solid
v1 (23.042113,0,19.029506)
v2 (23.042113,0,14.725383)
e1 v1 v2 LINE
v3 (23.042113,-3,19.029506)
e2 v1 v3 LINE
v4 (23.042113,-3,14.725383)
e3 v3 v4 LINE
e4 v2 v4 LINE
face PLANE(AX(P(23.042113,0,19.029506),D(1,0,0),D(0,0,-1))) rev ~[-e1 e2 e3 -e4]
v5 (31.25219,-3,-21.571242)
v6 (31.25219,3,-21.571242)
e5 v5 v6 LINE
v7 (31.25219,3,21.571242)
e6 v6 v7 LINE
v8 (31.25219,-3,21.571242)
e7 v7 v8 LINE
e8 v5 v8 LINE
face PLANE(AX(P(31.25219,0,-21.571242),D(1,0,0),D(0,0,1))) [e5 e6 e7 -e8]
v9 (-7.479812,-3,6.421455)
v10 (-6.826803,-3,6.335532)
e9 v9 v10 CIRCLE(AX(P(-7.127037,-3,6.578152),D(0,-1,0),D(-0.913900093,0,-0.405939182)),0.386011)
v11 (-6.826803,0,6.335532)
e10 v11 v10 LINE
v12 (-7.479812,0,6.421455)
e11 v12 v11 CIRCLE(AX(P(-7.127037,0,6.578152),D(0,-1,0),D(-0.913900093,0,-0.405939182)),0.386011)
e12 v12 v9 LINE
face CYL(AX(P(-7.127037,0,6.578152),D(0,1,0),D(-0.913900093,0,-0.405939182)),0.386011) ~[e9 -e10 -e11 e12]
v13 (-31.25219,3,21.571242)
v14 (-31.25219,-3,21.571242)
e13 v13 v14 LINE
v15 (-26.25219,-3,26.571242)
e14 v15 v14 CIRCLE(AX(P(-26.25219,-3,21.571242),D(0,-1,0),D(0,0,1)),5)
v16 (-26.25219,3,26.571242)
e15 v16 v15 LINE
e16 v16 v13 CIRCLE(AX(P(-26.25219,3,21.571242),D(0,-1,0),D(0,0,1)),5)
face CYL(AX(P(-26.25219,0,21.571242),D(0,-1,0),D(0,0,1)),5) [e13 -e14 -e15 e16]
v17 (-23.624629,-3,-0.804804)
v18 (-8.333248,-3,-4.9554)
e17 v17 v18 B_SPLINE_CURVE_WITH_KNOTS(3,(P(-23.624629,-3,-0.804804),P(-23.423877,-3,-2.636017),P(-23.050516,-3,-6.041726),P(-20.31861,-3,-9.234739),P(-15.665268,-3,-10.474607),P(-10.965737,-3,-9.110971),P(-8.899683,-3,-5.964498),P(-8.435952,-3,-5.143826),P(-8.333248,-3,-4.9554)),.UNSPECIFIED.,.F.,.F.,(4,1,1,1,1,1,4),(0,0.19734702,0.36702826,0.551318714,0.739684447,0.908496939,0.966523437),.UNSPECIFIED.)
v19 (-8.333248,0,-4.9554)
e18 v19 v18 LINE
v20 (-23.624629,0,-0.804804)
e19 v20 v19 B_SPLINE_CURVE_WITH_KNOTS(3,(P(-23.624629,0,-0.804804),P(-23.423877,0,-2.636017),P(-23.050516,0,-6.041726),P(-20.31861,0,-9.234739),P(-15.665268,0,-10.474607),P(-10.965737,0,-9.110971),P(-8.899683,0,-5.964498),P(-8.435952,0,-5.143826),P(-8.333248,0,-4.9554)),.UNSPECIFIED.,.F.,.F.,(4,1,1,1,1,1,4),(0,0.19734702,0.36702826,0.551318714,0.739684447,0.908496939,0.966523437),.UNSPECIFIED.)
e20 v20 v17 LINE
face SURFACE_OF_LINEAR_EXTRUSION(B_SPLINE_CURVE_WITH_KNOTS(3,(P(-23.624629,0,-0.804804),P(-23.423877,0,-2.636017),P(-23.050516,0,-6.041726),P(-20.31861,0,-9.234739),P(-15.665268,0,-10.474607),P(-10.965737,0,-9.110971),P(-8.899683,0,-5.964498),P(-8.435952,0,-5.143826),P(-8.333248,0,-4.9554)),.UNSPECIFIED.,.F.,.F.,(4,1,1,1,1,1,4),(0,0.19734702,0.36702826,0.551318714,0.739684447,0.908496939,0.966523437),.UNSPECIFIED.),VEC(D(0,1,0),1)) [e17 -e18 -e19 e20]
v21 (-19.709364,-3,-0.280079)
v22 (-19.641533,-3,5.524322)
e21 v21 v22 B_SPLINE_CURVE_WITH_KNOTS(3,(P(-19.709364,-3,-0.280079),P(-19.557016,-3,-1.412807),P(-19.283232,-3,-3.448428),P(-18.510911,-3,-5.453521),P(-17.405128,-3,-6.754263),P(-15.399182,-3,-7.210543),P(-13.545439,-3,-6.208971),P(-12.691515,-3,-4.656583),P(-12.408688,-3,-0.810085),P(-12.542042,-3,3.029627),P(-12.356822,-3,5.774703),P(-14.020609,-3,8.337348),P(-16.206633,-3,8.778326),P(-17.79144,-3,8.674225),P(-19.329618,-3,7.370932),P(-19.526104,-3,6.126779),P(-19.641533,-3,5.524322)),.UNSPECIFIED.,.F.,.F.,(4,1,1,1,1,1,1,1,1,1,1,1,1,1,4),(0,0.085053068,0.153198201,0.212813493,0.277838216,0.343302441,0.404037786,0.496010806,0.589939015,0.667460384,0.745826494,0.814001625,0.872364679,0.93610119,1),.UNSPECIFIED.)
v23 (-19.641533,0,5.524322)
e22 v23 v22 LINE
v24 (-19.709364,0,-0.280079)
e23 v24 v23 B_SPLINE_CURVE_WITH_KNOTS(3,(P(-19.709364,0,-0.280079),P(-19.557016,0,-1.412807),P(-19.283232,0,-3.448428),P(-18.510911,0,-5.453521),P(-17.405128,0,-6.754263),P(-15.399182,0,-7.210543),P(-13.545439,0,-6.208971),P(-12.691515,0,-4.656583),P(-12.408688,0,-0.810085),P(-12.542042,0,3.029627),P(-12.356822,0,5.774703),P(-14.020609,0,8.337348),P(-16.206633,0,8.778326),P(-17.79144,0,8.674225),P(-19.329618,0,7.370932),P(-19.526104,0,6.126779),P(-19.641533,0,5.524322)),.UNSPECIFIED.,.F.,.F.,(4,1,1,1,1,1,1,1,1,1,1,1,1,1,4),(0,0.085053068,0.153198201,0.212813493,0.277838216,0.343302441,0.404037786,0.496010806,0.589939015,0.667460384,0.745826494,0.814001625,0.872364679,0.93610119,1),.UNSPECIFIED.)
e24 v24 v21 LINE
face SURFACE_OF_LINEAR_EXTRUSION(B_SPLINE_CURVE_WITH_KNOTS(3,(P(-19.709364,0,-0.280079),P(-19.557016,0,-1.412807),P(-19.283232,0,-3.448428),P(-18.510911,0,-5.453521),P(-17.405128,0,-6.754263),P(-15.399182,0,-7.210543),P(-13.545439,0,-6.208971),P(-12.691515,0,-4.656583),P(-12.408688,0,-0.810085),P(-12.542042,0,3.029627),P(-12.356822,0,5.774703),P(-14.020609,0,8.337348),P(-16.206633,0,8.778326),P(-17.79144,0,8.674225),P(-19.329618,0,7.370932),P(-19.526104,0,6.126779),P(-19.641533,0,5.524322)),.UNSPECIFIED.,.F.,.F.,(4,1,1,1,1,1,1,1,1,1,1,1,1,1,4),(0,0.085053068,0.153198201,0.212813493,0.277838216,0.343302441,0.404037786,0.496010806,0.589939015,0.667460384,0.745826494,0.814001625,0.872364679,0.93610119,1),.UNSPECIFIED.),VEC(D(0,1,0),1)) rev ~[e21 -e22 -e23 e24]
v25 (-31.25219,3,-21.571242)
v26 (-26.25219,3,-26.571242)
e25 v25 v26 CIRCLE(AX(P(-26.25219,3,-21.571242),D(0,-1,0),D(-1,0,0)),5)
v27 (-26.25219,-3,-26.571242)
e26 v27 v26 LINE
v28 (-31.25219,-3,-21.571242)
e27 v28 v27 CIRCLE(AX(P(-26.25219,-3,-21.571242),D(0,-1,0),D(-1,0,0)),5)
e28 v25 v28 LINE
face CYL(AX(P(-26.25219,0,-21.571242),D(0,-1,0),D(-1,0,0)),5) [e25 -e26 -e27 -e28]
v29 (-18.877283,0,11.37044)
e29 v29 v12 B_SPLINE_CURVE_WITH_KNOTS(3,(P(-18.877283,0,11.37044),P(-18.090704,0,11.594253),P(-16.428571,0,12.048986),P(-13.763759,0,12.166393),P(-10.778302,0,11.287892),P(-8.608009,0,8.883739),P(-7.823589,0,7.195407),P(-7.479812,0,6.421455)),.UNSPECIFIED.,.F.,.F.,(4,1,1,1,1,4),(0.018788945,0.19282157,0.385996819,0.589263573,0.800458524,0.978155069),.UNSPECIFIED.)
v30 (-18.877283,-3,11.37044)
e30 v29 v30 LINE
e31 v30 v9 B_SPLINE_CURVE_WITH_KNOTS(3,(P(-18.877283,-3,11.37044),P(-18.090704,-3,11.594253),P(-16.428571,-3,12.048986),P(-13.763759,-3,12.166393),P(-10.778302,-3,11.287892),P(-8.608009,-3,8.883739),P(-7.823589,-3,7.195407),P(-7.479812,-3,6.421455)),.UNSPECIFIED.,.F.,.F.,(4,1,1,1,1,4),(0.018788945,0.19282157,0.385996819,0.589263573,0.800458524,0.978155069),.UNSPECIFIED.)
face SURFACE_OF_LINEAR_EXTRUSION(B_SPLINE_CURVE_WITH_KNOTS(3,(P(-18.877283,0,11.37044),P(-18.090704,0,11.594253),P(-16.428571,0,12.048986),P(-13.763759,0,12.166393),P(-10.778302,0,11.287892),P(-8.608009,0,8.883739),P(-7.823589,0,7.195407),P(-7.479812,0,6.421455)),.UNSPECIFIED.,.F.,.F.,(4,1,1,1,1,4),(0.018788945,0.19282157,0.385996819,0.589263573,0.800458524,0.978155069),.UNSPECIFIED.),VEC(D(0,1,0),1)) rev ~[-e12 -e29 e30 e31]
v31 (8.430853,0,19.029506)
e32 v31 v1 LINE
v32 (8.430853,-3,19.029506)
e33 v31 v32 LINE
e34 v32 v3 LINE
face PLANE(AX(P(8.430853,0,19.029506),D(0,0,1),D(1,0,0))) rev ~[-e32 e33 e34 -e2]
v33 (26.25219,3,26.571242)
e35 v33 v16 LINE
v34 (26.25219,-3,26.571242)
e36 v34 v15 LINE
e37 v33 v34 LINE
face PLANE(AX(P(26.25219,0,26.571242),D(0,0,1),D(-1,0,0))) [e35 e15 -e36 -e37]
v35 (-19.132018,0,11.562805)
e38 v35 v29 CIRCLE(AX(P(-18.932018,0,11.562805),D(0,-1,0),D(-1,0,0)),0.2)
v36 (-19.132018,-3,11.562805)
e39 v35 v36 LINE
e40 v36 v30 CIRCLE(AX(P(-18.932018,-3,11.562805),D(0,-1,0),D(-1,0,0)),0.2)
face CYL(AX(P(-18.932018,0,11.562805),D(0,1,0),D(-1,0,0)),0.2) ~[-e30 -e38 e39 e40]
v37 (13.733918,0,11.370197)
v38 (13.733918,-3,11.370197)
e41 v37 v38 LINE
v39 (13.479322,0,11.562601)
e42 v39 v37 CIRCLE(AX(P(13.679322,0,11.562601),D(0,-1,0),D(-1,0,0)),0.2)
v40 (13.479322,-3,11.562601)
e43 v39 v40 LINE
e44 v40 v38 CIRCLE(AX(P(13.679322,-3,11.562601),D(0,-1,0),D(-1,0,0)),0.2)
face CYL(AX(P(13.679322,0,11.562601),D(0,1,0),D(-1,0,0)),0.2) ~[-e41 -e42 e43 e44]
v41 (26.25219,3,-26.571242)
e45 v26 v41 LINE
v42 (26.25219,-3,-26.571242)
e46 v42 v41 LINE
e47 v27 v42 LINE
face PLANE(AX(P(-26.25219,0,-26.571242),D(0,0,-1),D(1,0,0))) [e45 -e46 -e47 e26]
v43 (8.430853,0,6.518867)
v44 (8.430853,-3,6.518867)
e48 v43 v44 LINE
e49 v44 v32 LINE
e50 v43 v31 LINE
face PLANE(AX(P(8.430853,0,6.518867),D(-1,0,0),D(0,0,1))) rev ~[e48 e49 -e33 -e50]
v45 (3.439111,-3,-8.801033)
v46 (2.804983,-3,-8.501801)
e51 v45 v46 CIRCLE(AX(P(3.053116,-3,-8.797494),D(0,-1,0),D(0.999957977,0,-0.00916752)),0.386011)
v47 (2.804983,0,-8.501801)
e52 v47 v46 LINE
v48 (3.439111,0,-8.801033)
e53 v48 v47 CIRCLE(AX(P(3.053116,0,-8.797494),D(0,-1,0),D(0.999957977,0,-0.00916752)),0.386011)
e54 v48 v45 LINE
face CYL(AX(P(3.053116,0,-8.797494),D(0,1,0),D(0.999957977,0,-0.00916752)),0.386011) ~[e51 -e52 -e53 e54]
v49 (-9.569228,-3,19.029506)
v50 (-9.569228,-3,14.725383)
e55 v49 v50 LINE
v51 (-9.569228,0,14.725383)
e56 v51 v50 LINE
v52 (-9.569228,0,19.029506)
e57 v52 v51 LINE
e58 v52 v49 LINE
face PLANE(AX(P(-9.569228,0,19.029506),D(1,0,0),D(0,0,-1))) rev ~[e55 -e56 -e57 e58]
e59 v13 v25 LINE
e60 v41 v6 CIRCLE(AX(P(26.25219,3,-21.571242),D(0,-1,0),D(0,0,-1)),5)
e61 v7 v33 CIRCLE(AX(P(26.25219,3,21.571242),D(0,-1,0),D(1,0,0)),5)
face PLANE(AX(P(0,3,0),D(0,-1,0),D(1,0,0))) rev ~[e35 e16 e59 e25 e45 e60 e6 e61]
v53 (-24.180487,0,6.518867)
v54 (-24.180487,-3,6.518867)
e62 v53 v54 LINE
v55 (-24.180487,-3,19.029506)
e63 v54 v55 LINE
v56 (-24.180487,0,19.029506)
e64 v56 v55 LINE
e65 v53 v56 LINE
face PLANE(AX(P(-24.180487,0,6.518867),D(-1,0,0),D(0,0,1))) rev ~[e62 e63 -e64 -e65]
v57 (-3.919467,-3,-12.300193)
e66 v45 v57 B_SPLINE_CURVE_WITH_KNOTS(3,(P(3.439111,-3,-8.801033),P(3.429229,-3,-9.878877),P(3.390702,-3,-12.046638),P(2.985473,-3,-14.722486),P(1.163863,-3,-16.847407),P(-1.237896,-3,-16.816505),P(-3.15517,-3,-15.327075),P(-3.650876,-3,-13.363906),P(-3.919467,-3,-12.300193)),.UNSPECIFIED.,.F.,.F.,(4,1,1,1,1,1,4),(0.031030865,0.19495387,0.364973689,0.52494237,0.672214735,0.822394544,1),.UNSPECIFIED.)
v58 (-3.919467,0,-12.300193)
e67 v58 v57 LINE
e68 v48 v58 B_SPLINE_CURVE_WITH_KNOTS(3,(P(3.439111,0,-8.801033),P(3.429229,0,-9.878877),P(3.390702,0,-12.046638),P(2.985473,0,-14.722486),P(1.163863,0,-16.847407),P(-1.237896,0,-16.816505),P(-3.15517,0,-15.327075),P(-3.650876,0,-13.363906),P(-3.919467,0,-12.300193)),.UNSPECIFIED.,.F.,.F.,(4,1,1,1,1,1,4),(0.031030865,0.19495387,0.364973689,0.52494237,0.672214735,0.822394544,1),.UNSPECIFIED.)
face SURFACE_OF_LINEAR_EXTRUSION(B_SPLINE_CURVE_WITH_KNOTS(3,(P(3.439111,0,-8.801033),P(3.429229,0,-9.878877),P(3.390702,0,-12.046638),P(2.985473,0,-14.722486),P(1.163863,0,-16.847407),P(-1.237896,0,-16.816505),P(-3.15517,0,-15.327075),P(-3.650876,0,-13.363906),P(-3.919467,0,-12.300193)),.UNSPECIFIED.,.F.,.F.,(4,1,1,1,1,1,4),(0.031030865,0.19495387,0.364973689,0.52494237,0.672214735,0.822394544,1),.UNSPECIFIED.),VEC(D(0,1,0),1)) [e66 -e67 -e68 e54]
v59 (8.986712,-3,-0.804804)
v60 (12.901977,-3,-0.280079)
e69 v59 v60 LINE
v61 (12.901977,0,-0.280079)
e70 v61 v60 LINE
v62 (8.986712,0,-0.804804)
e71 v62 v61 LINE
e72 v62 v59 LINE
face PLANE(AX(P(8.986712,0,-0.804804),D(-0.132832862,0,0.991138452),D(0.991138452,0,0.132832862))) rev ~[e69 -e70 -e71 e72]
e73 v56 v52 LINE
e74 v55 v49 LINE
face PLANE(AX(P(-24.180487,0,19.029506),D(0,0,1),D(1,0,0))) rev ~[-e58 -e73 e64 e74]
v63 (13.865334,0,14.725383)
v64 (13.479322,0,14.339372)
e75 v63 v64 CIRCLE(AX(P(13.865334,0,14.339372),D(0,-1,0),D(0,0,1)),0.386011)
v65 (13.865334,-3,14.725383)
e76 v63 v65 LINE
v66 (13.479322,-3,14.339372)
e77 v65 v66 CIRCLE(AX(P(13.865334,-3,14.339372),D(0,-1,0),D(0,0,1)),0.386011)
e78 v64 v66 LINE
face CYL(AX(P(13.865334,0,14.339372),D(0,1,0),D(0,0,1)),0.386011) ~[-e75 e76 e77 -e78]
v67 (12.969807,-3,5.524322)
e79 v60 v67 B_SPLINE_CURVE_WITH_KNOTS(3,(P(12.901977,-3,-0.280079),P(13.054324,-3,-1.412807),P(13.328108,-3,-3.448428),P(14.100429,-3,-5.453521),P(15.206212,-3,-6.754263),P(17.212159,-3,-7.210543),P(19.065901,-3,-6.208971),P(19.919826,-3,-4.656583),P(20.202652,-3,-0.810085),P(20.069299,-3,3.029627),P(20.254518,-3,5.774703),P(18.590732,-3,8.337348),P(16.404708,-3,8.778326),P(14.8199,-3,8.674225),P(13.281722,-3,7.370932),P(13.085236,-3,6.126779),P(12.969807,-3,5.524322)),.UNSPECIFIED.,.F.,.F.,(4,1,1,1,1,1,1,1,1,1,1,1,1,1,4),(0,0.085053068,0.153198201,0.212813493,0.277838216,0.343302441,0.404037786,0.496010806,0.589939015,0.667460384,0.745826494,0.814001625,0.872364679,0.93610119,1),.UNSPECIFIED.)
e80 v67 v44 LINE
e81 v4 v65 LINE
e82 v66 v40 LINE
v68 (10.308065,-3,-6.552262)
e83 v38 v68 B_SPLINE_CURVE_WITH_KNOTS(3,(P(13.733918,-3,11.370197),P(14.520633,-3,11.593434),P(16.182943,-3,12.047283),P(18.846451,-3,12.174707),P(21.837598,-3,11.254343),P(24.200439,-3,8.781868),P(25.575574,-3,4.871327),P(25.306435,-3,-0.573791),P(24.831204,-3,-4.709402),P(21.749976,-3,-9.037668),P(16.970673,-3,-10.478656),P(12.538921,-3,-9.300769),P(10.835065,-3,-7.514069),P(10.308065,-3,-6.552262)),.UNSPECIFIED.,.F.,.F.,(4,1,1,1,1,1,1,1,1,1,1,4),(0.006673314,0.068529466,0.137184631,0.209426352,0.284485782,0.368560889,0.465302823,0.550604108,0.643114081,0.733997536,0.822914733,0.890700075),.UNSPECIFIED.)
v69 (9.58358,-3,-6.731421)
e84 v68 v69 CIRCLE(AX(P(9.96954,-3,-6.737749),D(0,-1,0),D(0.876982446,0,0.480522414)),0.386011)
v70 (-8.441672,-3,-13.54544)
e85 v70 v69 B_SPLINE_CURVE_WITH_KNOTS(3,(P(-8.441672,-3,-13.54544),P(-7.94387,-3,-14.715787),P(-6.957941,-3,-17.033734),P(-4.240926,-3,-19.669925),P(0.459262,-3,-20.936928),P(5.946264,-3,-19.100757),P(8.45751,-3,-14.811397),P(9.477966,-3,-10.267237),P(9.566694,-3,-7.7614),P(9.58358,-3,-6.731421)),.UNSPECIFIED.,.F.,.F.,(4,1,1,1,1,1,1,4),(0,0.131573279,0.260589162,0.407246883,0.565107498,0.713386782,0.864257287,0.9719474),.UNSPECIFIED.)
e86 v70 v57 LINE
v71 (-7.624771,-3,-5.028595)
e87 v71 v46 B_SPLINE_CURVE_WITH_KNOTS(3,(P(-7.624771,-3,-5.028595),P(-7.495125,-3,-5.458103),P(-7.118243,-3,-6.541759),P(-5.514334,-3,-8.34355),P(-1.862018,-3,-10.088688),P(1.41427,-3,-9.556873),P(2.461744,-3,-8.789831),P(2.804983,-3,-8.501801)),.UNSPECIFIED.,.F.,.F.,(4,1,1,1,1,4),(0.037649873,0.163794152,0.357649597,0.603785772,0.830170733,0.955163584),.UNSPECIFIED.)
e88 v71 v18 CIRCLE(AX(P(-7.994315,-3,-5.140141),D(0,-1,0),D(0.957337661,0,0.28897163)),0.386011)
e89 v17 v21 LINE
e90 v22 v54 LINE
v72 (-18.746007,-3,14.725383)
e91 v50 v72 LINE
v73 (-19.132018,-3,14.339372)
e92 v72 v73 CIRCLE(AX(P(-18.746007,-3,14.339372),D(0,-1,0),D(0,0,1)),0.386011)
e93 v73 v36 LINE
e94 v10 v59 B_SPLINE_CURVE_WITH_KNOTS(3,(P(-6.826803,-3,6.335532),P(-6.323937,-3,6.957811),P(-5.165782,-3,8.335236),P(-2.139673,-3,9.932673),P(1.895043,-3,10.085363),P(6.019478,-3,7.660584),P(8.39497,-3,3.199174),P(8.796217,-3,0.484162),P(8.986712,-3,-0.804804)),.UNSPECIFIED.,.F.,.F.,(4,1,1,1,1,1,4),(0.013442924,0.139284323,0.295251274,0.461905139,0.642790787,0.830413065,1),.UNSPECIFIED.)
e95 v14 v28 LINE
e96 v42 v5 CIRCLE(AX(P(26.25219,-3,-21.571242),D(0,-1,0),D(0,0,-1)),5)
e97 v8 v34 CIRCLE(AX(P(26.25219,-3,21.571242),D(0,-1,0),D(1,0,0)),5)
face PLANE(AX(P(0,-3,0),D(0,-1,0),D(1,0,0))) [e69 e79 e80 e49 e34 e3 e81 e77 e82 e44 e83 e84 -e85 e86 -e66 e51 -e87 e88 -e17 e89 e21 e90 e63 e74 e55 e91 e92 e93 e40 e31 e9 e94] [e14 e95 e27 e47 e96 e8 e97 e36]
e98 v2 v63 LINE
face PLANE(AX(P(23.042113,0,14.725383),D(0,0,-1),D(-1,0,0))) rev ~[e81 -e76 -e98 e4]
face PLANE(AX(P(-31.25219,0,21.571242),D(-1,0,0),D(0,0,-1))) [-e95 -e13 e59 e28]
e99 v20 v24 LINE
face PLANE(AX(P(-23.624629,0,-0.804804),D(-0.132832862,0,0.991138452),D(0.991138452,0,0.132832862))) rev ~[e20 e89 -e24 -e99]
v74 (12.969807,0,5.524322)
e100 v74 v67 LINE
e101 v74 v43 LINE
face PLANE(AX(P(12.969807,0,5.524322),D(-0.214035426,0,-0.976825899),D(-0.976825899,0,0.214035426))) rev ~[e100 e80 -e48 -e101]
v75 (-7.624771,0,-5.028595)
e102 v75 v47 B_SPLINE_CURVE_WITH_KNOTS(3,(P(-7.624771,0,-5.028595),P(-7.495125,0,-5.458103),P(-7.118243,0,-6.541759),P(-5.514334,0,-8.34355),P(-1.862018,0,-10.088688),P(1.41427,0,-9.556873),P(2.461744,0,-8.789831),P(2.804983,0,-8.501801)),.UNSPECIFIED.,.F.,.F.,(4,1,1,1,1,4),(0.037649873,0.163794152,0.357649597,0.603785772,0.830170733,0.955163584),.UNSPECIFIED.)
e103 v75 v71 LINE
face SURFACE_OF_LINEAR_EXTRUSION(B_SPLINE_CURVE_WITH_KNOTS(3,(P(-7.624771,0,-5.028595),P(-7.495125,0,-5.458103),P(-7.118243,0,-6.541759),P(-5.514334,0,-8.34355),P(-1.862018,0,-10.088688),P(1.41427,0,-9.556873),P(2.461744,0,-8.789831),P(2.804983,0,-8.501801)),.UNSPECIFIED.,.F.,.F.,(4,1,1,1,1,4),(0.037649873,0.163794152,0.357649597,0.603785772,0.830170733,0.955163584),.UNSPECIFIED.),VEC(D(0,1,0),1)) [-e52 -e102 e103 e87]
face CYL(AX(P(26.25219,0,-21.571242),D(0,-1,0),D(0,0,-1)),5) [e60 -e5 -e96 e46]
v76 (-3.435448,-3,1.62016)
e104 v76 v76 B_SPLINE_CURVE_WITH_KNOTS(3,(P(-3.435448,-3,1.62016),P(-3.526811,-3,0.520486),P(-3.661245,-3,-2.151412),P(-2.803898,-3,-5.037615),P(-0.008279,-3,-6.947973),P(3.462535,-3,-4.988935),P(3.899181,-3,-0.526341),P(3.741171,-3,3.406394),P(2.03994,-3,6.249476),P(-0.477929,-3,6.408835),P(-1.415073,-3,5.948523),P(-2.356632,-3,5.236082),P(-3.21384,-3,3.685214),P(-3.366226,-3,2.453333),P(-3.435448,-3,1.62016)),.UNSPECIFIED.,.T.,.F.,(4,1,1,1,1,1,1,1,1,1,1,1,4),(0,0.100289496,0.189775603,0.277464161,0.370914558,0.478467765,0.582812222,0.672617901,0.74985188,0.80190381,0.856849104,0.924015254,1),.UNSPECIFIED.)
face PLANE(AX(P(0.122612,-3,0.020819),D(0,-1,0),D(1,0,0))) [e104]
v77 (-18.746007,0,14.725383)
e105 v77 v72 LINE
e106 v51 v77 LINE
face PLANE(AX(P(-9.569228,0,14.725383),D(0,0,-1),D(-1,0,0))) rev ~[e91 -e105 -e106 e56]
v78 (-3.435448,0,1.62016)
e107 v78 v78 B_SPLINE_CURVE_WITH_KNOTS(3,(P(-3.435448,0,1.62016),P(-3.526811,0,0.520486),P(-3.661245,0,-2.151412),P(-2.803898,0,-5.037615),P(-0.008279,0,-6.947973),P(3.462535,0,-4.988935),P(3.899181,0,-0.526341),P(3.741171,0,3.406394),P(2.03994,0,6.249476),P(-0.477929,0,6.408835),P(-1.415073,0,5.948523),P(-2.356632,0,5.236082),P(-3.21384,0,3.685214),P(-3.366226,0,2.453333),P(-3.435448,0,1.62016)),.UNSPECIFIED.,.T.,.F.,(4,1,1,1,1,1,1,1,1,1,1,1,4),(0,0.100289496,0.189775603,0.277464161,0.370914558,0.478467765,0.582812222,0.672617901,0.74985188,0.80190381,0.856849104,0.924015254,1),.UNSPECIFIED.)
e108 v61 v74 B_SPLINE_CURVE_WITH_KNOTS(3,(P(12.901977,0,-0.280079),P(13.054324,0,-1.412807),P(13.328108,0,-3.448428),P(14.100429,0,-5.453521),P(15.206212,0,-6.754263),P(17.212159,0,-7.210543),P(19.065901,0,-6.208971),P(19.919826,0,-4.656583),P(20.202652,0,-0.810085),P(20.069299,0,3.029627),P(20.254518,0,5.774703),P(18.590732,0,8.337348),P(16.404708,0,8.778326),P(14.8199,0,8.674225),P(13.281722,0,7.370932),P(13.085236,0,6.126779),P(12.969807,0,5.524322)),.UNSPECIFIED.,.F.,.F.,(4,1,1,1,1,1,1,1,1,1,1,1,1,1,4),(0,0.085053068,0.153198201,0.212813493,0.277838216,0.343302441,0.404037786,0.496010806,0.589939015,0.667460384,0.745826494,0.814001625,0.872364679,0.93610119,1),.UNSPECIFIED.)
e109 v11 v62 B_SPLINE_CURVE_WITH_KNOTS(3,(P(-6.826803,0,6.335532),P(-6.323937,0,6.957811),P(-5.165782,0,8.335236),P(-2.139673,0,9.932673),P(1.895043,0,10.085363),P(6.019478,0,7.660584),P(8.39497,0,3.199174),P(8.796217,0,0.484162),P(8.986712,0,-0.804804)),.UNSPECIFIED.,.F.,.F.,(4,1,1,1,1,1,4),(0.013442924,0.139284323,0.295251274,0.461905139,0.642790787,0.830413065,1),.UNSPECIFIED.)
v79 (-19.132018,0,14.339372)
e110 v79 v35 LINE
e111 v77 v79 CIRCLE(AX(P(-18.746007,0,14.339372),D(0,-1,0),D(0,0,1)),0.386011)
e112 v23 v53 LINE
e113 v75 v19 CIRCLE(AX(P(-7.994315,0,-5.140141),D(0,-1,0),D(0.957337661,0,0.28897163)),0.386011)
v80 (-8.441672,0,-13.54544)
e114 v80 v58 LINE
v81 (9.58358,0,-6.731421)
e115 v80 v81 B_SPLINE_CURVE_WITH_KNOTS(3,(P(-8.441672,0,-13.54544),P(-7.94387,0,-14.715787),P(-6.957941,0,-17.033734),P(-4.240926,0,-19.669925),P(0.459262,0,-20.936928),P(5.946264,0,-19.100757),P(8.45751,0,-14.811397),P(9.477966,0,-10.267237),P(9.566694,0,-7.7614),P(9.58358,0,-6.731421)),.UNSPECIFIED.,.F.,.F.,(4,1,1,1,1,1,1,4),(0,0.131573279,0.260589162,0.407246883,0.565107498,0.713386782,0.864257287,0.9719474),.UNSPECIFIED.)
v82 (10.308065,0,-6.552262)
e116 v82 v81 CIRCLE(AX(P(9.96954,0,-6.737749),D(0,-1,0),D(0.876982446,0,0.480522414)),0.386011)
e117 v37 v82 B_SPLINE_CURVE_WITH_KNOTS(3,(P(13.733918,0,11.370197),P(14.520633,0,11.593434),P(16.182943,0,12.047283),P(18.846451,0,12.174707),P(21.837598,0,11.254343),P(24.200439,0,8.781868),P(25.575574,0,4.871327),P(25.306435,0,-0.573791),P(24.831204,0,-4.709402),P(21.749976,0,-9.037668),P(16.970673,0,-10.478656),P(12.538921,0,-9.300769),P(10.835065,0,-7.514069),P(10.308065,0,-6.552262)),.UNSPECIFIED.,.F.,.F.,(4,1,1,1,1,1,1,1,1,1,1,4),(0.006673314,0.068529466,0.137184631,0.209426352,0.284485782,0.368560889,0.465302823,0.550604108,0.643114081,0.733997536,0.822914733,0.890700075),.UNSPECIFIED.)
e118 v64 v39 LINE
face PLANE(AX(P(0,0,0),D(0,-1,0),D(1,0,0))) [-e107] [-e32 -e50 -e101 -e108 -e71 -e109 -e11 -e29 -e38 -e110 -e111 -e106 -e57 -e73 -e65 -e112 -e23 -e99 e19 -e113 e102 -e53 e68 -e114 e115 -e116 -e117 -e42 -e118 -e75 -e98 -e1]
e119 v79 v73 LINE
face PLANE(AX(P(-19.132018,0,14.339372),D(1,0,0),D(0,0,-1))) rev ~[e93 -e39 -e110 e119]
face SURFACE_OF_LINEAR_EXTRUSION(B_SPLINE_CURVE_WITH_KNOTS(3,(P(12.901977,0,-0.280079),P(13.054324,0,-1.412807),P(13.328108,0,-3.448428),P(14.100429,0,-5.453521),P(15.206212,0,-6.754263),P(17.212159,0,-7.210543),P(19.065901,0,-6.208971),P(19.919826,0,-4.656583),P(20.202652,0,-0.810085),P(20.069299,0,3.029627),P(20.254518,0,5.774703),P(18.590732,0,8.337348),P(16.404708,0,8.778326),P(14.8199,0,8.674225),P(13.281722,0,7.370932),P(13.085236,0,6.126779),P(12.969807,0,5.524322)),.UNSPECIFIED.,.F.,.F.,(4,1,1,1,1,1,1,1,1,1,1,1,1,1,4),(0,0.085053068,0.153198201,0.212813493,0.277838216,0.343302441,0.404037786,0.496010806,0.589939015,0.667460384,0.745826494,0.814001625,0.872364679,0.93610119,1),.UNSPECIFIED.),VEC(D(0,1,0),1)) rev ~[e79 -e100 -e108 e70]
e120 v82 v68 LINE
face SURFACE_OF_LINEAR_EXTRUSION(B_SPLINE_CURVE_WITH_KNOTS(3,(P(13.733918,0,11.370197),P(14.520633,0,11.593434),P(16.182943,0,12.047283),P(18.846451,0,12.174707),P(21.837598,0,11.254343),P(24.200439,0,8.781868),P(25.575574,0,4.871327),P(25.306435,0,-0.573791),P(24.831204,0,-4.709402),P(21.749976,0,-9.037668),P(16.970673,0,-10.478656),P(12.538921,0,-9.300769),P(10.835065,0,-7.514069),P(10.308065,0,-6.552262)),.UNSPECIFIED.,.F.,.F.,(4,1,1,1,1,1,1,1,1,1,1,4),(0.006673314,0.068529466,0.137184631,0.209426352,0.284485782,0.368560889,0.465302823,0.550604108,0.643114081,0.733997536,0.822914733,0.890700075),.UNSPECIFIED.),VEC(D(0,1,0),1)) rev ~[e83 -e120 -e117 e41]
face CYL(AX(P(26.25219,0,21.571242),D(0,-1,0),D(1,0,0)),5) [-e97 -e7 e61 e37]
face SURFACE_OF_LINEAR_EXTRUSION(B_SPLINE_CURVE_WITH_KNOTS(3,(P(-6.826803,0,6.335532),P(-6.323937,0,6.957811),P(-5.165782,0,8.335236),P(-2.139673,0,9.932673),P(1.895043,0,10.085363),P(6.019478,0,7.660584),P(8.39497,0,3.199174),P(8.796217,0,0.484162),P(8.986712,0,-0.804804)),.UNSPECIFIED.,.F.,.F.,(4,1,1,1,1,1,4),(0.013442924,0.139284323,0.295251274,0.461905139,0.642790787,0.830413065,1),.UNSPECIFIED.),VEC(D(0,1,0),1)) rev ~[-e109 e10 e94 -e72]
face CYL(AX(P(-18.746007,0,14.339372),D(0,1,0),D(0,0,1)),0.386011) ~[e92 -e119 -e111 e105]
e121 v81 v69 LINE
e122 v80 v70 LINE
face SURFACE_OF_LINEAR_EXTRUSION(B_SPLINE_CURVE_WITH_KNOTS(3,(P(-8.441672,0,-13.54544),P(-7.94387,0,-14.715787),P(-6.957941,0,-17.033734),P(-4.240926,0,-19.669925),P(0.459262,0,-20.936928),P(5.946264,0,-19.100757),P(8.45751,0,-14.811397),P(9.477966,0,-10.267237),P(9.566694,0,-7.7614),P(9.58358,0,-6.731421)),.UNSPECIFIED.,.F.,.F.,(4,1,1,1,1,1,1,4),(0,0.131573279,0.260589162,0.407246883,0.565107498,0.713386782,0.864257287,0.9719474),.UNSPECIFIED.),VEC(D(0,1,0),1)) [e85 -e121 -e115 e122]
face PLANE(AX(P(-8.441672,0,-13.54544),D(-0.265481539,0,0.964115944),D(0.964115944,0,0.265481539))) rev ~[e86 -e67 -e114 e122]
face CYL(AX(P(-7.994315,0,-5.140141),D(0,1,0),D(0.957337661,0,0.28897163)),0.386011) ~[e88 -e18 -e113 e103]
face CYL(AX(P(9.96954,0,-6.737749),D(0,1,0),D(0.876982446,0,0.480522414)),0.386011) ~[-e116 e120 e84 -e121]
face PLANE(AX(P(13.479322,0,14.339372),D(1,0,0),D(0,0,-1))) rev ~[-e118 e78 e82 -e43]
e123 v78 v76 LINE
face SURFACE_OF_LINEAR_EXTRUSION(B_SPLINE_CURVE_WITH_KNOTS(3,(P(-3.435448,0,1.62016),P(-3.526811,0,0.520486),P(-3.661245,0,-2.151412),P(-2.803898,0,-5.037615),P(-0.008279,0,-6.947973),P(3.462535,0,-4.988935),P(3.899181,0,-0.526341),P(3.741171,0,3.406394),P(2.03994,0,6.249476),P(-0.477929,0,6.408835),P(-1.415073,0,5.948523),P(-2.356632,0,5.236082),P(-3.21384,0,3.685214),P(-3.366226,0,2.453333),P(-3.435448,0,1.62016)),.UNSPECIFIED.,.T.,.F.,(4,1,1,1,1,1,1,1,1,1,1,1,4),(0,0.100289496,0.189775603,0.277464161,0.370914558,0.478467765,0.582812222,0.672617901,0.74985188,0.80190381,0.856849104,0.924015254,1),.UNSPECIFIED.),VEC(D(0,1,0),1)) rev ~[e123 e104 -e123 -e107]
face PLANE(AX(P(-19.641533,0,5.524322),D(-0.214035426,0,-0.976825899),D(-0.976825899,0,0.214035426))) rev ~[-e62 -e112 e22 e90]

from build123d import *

# Parameters (mm, degrees)
F1_DEPTH = 3
F3_DEPTH = 3


with BuildPart() as f1:
    # F0 (on Front) → F1 (new body)
    with BuildSketch(Plane.XZ):
        with BuildLine():
            Line((-26.2521904707, -26.5712421387), (26.2521904707, -26.5712421387))
            ThreePointArc((26.2521904707, -26.5712421387), (29.7877243766, -25.1067760447), (31.2521904707, -21.5712421387))
            Line((31.2521904707, -21.5712421387), (31.2521904707, 21.5712421387))
            ThreePointArc((31.2521904707, 21.5712421387), (29.7877243766, 25.1067760447), (26.2521904707, 26.5712421387))
            Line((26.2521904707, 26.5712421387), (-26.2521904707, 26.5712421387))
            ThreePointArc((-26.2521904707, 26.5712421387), (-29.7877243766, 25.1067760447), (-31.2521904707, 21.5712421387))
            Line((-31.2521904707, 21.5712421387), (-31.2521904707, -21.5712421387))
            ThreePointArc((-31.2521904707, -21.5712421387), (-29.7877243766, -25.1067760447), (-26.2521904707, -26.5712421387))
        make_face()
        with BuildLine():
            Line((-24.1804867983, 6.5188668668), (-24.1804867983, 19.0295055509))
            Line((-24.1804867983, 19.0295055509), (-9.5692276955, 19.0295055509))
            Line((-9.5692276955, 19.0295055509), (-9.5692276955, 14.7253833711))
            Line((-9.5692276955, 14.7253833711), (-18.7460067018, 14.7253833711))
            ThreePointArc((-18.7460067018, 14.7253833711), (-19.0189579715, 14.6123232533), (-19.1320180893, 14.3393719836))
            Line((-19.1320180893, 14.3393719836), (-19.1320180893, 11.5628045595))
            ThreePointArc((-19.1320180893, 11.5628045595), (-19.052543922, 11.4032002875), (-18.8772828528, 11.3704401816))
            add(Edge.make_bspline(
                [(-18.8772828528, 11.3704401816), (-18.0907039553, 11.5942528357), (-16.428571119, 12.048986212), (-13.7637590064, 12.1663926481), (-10.7783023467, 11.2878918717), (-8.608008816, 8.883739189), (-7.8235892044, 7.195407339), (-7.479812433, 6.4214548917)],
                knots=[0.0187889452, 0.0187889452, 0.0187889452, 0.0187889452, 0.1928215696, 0.3859968189, 0.5892635727, 0.8004585236, 0.9781550685, 0.9781550685, 0.9781550685, 0.9781550685], degree=3))
            ThreePointArc((-7.479812433, 6.4214548917), (-7.1773938737, 6.1954394373), (-6.8268028651, 6.3355319618))
            add(Edge.make_bspline(
                [(-6.8268028651, 6.3355319618), (-6.3239368021, 6.9578108483), (-5.1657820011, 8.33523566), (-2.1396728387, 9.9326729538), (1.8950429815, 10.0853631714), (6.0194775368, 7.6605840045), (8.3949703412, 3.199174132), (8.7962173797, 0.4841619269), (8.9867115021, -0.8048042655)],
                knots=[0.0134429235, 0.0134429235, 0.0134429235, 0.0134429235, 0.1392843233, 0.2952512735, 0.4619051388, 0.6427907875, 0.8304130649, 1, 1, 1, 1], degree=3))
            Line((8.9867115021, -0.8048042655), (12.9019767046, -0.2800785005))
            add(Edge.make_bspline(
                [(12.9019767046, -0.2800785005), (13.0543244929, -1.4128068863), (13.328107964, -3.4484279333), (14.1004293769, -5.4535206804), (15.2062121625, -6.7542628508), (17.2121585921, -7.2105429933), (19.0659013385, -6.2089714944), (19.9198257488, -4.6565826928), (20.2026522486, -0.8100851133), (20.0692985967, 3.029626915), (20.2545182868, 5.7747033617), (18.5907316712, 8.3373482447), (16.4047076085, 8.7783260416), (14.8198998378, 8.6742253566), (13.28172228, 7.3709317022), (13.085235865, 6.1267789414), (12.9698067904, 5.5243223906)],
                knots=[0, 0, 0, 0, 0.0850530681, 0.1531982013, 0.2128134932, 0.2778382163, 0.3433024412, 0.4040377865, 0.4960108059, 0.5899390151, 0.6674603836, 0.7458264942, 0.8140016254, 0.8723646786, 0.9361011897, 1, 1, 1, 1], degree=3))
            Line((12.9698067904, 5.5243223906), (8.4308534861, 6.5188668668))
            Line((8.4308534861, 6.5188668668), (8.4308534861, 19.0295055509))
            Line((8.4308534861, 19.0295055509), (23.0421125889, 19.0295055509))
            Line((23.0421125889, 19.0295055509), (23.0421125889, 14.7253833711))
            Line((23.0421125889, 14.7253833711), (13.8653335825, 14.7253833711))
            ThreePointArc((13.8653335825, 14.7253833711), (13.5923823128, 14.6123232533), (13.4793221951, 14.3393719836))
            Line((13.4793221951, 14.3393719836), (13.4793221951, 11.5626012477))
            ThreePointArc((13.4793221951, 11.5626012477), (13.5587386682, 11.40304056), (13.7339183255, 11.370197343))
            add(Edge.make_bspline(
                [(13.7339183255, 11.370197343), (14.5206329081, 11.5934338311), (16.1829432155, 12.0472832886), (18.8464510581, 12.1747073507), (21.8375982381, 11.2543430537), (24.2004389296, 8.7818679608), (25.5755735256, 4.8713271716), (25.3064350862, -0.5737911857), (24.8312041176, -4.7094018545), (21.749976272, -9.0376680335), (16.9706732988, -10.4786564529), (12.5389209811, -9.3007692118), (10.8350653675, -7.5140693006), (10.3080651221, -6.5522620029)],
                knots=[0.006673314, 0.006673314, 0.006673314, 0.006673314, 0.0685294658, 0.1371846306, 0.2094263518, 0.2844857821, 0.3685608886, 0.4653028232, 0.5506041076, 0.6431140813, 0.7339975358, 0.8229147331, 0.8907000755, 0.8907000755, 0.8907000755, 0.8907000755], degree=3))
            ThreePointArc((10.3080651221, -6.5522620029), (9.8768736928, -6.3630255441), (9.583580391, -6.731421425))
            add(Edge.make_bspline(
                [(-8.4416717291, -13.5454395786), (-7.9438695099, -14.71578707), (-6.9579408758, -17.0337339557), (-4.2409263056, -19.6699254166), (0.459261844, -20.936928095), (5.9462638445, -19.1007566385), (8.4575100908, -14.8113966737), (9.4779663102, -10.267236628), (9.5666941787, -7.7613995922), (9.583580391, -6.731421425)],
                knots=[0, 0, 0, 0, 0.131573279, 0.2605891623, 0.4072468832, 0.5651074981, 0.7133867816, 0.8642572868, 0.9719474004, 0.9719474004, 0.9719474004, 0.9719474004], degree=3))
            Line((-8.4416717291, -13.5454395786), (-3.91946733, -12.3001933098))
            add(Edge.make_bspline(
                [(3.4391110044, -8.801032884), (3.4292294296, -9.8788771881), (3.3907020801, -12.0466383407), (2.98547267, -14.7224859441), (1.1638632401, -16.8474068921), (-1.2378962082, -16.8165054966), (-3.15517022, -15.3270751162), (-3.6508764536, -13.3639063953), (-3.91946733, -12.3001933098)],
                knots=[0.0310308646, 0.0310308646, 0.0310308646, 0.0310308646, 0.1949538702, 0.364973689, 0.5249423704, 0.6722147355, 0.8223945444, 1, 1, 1, 1], degree=3))
            ThreePointArc((3.4391110044, -8.801032884), (3.2178473715, -8.4483976929), (2.804982612, -8.5018005366))
            add(Edge.make_bspline(
                [(-7.6247713503, -5.0285945502), (-7.4951246028, -5.4581028515), (-7.1182427223, -6.5417591982), (-5.5143339169, -8.3435497571), (-1.8620178866, -10.0886878273), (1.4142697444, -9.5568731886), (2.461744348, -8.7898311991), (2.804982612, -8.5018005366)],
                knots=[0.0376498734, 0.0376498734, 0.0376498734, 0.0376498734, 0.1637941515, 0.3576495972, 0.6037857722, 0.8301707333, 0.9551635836, 0.9551635836, 0.9551635836, 0.9551635836], degree=3))
            ThreePointArc((-7.6247713503, -5.0285945502), (-7.954646037, -4.7561731868), (-8.3332477687, -4.9554002855))
            add(Edge.make_bspline(
                [(-23.6246287823, -0.8048042655), (-23.4238768593, -2.6360165944), (-23.0505161222, -6.0417263616), (-20.3186102891, -9.2347391659), (-15.6652683934, -10.4746071304), (-10.9657366753, -9.1109706503), (-8.8996831286, -5.9644979669), (-8.4359519706, -5.1438258987), (-8.3332477687, -4.9554002855)],
                knots=[0, 0, 0, 0, 0.1973470203, 0.3670282598, 0.5513187137, 0.7396844469, 0.9084969392, 0.9665234371, 0.9665234371, 0.9665234371, 0.9665234371], degree=3))
            Line((-23.6246287823, -0.8048042655), (-19.7093635798, -0.2800785005))
            add(Edge.make_bspline(
                [(-19.7093635798, -0.2800785005), (-19.5570157915, -1.4128068863), (-19.2832323204, -3.4484279333), (-18.5109109074, -5.4535206804), (-17.4051281218, -6.7542628508), (-15.3991816922, -7.2105429933), (-13.5454389459, -6.2089714944), (-12.6915145355, -4.6565826928), (-12.4086880358, -0.8100851133), (-12.5420416876, 3.029626915), (-12.3568219976, 5.7747033617), (-14.0206086131, 8.3373482447), (-16.2066326759, 8.7783260416), (-17.7914404465, 8.6742253566), (-19.3296180044, 7.3709317022), (-19.5261044193, 6.1267789414), (-19.641533494, 5.5243223906)],
                knots=[0, 0, 0, 0, 0.0850530681, 0.1531982013, 0.2128134932, 0.2778382163, 0.3433024412, 0.4040377865, 0.4960108059, 0.5899390151, 0.6674603836, 0.7458264942, 0.8140016254, 0.8723646786, 0.9361011897, 1, 1, 1, 1], degree=3))
            Line((-19.641533494, 5.5243223906), (-24.1804867983, 6.5188668668))
        make_face(mode=Mode.SUBTRACT)
    extrude(amount=F1_DEPTH)



with BuildPart() as f1b:
    # F0 (on Front) → F1, piece 2 (new body)
    with BuildSketch(Plane.XZ):
        with BuildLine():
            add(Edge.make_bspline(
                [(-3.4354478121, 1.6201604158), (-3.5268113996, 0.5204862984), (-3.661245232, -2.1514122715), (-2.8038980937, -5.0376153478), (-0.0082786462, -6.9479730958), (3.4625349906, -4.9889346896), (3.899180856, -0.526341138), (3.7411706941, 3.4063941992), (2.0399404478, 6.2494758513), (-0.4779286797, 6.4088353336), (-1.415072846, 5.9485227508), (-2.3566320655, 5.2360821356), (-3.2138401141, 3.6852138136), (-3.3662258173, 2.4533329967), (-3.4354478121, 1.6201604158)],
                knots=[0, 0, 0, 0, 0.1002894958, 0.1897756028, 0.2774641613, 0.3709145582, 0.478467765, 0.5828122225, 0.6726179006, 0.7498518805, 0.8019038103, 0.8568491044, 0.9240152544, 1, 1, 1, 1], degree=3))
        make_face()
    extrude(amount=F1_DEPTH)


with BuildPart() as f1_1:
    add(f1.part)

    add(f1b.part)  # F3 merges F1b
    # F2 (on face) → F3 (join)
    with BuildSketch(Plane.XZ):
        with BuildLine():
            Line((31.2521904707, -21.5712421387), (31.2521904707, 21.5712421387))
            ThreePointArc((31.2521904707, 21.5712421387), (29.7877243766, 25.1067760447), (26.2521904707, 26.5712421387))
            Line((26.2521904707, 26.5712421387), (-26.2521904707, 26.5712421387))
            ThreePointArc((-26.2521904707, 26.5712421387), (-29.7877243766, 25.1067760447), (-31.2521904707, 21.5712421387))
            Line((-31.2521904707, 21.5712421387), (-31.2521904707, -21.5712421387))
            ThreePointArc((-31.2521904707, -21.5712421387), (-29.7877243766, -25.1067760447), (-26.2521904707, -26.5712421387))
            Line((-26.2521904707, -26.5712421387), (26.2521904707, -26.5712421387))
            ThreePointArc((26.2521904707, -26.5712421387), (29.7877243766, -25.1067760447), (31.2521904707, -21.5712421387))
        make_face()
    extrude(amount=-F3_DEPTH)


solid = f1_1.part
